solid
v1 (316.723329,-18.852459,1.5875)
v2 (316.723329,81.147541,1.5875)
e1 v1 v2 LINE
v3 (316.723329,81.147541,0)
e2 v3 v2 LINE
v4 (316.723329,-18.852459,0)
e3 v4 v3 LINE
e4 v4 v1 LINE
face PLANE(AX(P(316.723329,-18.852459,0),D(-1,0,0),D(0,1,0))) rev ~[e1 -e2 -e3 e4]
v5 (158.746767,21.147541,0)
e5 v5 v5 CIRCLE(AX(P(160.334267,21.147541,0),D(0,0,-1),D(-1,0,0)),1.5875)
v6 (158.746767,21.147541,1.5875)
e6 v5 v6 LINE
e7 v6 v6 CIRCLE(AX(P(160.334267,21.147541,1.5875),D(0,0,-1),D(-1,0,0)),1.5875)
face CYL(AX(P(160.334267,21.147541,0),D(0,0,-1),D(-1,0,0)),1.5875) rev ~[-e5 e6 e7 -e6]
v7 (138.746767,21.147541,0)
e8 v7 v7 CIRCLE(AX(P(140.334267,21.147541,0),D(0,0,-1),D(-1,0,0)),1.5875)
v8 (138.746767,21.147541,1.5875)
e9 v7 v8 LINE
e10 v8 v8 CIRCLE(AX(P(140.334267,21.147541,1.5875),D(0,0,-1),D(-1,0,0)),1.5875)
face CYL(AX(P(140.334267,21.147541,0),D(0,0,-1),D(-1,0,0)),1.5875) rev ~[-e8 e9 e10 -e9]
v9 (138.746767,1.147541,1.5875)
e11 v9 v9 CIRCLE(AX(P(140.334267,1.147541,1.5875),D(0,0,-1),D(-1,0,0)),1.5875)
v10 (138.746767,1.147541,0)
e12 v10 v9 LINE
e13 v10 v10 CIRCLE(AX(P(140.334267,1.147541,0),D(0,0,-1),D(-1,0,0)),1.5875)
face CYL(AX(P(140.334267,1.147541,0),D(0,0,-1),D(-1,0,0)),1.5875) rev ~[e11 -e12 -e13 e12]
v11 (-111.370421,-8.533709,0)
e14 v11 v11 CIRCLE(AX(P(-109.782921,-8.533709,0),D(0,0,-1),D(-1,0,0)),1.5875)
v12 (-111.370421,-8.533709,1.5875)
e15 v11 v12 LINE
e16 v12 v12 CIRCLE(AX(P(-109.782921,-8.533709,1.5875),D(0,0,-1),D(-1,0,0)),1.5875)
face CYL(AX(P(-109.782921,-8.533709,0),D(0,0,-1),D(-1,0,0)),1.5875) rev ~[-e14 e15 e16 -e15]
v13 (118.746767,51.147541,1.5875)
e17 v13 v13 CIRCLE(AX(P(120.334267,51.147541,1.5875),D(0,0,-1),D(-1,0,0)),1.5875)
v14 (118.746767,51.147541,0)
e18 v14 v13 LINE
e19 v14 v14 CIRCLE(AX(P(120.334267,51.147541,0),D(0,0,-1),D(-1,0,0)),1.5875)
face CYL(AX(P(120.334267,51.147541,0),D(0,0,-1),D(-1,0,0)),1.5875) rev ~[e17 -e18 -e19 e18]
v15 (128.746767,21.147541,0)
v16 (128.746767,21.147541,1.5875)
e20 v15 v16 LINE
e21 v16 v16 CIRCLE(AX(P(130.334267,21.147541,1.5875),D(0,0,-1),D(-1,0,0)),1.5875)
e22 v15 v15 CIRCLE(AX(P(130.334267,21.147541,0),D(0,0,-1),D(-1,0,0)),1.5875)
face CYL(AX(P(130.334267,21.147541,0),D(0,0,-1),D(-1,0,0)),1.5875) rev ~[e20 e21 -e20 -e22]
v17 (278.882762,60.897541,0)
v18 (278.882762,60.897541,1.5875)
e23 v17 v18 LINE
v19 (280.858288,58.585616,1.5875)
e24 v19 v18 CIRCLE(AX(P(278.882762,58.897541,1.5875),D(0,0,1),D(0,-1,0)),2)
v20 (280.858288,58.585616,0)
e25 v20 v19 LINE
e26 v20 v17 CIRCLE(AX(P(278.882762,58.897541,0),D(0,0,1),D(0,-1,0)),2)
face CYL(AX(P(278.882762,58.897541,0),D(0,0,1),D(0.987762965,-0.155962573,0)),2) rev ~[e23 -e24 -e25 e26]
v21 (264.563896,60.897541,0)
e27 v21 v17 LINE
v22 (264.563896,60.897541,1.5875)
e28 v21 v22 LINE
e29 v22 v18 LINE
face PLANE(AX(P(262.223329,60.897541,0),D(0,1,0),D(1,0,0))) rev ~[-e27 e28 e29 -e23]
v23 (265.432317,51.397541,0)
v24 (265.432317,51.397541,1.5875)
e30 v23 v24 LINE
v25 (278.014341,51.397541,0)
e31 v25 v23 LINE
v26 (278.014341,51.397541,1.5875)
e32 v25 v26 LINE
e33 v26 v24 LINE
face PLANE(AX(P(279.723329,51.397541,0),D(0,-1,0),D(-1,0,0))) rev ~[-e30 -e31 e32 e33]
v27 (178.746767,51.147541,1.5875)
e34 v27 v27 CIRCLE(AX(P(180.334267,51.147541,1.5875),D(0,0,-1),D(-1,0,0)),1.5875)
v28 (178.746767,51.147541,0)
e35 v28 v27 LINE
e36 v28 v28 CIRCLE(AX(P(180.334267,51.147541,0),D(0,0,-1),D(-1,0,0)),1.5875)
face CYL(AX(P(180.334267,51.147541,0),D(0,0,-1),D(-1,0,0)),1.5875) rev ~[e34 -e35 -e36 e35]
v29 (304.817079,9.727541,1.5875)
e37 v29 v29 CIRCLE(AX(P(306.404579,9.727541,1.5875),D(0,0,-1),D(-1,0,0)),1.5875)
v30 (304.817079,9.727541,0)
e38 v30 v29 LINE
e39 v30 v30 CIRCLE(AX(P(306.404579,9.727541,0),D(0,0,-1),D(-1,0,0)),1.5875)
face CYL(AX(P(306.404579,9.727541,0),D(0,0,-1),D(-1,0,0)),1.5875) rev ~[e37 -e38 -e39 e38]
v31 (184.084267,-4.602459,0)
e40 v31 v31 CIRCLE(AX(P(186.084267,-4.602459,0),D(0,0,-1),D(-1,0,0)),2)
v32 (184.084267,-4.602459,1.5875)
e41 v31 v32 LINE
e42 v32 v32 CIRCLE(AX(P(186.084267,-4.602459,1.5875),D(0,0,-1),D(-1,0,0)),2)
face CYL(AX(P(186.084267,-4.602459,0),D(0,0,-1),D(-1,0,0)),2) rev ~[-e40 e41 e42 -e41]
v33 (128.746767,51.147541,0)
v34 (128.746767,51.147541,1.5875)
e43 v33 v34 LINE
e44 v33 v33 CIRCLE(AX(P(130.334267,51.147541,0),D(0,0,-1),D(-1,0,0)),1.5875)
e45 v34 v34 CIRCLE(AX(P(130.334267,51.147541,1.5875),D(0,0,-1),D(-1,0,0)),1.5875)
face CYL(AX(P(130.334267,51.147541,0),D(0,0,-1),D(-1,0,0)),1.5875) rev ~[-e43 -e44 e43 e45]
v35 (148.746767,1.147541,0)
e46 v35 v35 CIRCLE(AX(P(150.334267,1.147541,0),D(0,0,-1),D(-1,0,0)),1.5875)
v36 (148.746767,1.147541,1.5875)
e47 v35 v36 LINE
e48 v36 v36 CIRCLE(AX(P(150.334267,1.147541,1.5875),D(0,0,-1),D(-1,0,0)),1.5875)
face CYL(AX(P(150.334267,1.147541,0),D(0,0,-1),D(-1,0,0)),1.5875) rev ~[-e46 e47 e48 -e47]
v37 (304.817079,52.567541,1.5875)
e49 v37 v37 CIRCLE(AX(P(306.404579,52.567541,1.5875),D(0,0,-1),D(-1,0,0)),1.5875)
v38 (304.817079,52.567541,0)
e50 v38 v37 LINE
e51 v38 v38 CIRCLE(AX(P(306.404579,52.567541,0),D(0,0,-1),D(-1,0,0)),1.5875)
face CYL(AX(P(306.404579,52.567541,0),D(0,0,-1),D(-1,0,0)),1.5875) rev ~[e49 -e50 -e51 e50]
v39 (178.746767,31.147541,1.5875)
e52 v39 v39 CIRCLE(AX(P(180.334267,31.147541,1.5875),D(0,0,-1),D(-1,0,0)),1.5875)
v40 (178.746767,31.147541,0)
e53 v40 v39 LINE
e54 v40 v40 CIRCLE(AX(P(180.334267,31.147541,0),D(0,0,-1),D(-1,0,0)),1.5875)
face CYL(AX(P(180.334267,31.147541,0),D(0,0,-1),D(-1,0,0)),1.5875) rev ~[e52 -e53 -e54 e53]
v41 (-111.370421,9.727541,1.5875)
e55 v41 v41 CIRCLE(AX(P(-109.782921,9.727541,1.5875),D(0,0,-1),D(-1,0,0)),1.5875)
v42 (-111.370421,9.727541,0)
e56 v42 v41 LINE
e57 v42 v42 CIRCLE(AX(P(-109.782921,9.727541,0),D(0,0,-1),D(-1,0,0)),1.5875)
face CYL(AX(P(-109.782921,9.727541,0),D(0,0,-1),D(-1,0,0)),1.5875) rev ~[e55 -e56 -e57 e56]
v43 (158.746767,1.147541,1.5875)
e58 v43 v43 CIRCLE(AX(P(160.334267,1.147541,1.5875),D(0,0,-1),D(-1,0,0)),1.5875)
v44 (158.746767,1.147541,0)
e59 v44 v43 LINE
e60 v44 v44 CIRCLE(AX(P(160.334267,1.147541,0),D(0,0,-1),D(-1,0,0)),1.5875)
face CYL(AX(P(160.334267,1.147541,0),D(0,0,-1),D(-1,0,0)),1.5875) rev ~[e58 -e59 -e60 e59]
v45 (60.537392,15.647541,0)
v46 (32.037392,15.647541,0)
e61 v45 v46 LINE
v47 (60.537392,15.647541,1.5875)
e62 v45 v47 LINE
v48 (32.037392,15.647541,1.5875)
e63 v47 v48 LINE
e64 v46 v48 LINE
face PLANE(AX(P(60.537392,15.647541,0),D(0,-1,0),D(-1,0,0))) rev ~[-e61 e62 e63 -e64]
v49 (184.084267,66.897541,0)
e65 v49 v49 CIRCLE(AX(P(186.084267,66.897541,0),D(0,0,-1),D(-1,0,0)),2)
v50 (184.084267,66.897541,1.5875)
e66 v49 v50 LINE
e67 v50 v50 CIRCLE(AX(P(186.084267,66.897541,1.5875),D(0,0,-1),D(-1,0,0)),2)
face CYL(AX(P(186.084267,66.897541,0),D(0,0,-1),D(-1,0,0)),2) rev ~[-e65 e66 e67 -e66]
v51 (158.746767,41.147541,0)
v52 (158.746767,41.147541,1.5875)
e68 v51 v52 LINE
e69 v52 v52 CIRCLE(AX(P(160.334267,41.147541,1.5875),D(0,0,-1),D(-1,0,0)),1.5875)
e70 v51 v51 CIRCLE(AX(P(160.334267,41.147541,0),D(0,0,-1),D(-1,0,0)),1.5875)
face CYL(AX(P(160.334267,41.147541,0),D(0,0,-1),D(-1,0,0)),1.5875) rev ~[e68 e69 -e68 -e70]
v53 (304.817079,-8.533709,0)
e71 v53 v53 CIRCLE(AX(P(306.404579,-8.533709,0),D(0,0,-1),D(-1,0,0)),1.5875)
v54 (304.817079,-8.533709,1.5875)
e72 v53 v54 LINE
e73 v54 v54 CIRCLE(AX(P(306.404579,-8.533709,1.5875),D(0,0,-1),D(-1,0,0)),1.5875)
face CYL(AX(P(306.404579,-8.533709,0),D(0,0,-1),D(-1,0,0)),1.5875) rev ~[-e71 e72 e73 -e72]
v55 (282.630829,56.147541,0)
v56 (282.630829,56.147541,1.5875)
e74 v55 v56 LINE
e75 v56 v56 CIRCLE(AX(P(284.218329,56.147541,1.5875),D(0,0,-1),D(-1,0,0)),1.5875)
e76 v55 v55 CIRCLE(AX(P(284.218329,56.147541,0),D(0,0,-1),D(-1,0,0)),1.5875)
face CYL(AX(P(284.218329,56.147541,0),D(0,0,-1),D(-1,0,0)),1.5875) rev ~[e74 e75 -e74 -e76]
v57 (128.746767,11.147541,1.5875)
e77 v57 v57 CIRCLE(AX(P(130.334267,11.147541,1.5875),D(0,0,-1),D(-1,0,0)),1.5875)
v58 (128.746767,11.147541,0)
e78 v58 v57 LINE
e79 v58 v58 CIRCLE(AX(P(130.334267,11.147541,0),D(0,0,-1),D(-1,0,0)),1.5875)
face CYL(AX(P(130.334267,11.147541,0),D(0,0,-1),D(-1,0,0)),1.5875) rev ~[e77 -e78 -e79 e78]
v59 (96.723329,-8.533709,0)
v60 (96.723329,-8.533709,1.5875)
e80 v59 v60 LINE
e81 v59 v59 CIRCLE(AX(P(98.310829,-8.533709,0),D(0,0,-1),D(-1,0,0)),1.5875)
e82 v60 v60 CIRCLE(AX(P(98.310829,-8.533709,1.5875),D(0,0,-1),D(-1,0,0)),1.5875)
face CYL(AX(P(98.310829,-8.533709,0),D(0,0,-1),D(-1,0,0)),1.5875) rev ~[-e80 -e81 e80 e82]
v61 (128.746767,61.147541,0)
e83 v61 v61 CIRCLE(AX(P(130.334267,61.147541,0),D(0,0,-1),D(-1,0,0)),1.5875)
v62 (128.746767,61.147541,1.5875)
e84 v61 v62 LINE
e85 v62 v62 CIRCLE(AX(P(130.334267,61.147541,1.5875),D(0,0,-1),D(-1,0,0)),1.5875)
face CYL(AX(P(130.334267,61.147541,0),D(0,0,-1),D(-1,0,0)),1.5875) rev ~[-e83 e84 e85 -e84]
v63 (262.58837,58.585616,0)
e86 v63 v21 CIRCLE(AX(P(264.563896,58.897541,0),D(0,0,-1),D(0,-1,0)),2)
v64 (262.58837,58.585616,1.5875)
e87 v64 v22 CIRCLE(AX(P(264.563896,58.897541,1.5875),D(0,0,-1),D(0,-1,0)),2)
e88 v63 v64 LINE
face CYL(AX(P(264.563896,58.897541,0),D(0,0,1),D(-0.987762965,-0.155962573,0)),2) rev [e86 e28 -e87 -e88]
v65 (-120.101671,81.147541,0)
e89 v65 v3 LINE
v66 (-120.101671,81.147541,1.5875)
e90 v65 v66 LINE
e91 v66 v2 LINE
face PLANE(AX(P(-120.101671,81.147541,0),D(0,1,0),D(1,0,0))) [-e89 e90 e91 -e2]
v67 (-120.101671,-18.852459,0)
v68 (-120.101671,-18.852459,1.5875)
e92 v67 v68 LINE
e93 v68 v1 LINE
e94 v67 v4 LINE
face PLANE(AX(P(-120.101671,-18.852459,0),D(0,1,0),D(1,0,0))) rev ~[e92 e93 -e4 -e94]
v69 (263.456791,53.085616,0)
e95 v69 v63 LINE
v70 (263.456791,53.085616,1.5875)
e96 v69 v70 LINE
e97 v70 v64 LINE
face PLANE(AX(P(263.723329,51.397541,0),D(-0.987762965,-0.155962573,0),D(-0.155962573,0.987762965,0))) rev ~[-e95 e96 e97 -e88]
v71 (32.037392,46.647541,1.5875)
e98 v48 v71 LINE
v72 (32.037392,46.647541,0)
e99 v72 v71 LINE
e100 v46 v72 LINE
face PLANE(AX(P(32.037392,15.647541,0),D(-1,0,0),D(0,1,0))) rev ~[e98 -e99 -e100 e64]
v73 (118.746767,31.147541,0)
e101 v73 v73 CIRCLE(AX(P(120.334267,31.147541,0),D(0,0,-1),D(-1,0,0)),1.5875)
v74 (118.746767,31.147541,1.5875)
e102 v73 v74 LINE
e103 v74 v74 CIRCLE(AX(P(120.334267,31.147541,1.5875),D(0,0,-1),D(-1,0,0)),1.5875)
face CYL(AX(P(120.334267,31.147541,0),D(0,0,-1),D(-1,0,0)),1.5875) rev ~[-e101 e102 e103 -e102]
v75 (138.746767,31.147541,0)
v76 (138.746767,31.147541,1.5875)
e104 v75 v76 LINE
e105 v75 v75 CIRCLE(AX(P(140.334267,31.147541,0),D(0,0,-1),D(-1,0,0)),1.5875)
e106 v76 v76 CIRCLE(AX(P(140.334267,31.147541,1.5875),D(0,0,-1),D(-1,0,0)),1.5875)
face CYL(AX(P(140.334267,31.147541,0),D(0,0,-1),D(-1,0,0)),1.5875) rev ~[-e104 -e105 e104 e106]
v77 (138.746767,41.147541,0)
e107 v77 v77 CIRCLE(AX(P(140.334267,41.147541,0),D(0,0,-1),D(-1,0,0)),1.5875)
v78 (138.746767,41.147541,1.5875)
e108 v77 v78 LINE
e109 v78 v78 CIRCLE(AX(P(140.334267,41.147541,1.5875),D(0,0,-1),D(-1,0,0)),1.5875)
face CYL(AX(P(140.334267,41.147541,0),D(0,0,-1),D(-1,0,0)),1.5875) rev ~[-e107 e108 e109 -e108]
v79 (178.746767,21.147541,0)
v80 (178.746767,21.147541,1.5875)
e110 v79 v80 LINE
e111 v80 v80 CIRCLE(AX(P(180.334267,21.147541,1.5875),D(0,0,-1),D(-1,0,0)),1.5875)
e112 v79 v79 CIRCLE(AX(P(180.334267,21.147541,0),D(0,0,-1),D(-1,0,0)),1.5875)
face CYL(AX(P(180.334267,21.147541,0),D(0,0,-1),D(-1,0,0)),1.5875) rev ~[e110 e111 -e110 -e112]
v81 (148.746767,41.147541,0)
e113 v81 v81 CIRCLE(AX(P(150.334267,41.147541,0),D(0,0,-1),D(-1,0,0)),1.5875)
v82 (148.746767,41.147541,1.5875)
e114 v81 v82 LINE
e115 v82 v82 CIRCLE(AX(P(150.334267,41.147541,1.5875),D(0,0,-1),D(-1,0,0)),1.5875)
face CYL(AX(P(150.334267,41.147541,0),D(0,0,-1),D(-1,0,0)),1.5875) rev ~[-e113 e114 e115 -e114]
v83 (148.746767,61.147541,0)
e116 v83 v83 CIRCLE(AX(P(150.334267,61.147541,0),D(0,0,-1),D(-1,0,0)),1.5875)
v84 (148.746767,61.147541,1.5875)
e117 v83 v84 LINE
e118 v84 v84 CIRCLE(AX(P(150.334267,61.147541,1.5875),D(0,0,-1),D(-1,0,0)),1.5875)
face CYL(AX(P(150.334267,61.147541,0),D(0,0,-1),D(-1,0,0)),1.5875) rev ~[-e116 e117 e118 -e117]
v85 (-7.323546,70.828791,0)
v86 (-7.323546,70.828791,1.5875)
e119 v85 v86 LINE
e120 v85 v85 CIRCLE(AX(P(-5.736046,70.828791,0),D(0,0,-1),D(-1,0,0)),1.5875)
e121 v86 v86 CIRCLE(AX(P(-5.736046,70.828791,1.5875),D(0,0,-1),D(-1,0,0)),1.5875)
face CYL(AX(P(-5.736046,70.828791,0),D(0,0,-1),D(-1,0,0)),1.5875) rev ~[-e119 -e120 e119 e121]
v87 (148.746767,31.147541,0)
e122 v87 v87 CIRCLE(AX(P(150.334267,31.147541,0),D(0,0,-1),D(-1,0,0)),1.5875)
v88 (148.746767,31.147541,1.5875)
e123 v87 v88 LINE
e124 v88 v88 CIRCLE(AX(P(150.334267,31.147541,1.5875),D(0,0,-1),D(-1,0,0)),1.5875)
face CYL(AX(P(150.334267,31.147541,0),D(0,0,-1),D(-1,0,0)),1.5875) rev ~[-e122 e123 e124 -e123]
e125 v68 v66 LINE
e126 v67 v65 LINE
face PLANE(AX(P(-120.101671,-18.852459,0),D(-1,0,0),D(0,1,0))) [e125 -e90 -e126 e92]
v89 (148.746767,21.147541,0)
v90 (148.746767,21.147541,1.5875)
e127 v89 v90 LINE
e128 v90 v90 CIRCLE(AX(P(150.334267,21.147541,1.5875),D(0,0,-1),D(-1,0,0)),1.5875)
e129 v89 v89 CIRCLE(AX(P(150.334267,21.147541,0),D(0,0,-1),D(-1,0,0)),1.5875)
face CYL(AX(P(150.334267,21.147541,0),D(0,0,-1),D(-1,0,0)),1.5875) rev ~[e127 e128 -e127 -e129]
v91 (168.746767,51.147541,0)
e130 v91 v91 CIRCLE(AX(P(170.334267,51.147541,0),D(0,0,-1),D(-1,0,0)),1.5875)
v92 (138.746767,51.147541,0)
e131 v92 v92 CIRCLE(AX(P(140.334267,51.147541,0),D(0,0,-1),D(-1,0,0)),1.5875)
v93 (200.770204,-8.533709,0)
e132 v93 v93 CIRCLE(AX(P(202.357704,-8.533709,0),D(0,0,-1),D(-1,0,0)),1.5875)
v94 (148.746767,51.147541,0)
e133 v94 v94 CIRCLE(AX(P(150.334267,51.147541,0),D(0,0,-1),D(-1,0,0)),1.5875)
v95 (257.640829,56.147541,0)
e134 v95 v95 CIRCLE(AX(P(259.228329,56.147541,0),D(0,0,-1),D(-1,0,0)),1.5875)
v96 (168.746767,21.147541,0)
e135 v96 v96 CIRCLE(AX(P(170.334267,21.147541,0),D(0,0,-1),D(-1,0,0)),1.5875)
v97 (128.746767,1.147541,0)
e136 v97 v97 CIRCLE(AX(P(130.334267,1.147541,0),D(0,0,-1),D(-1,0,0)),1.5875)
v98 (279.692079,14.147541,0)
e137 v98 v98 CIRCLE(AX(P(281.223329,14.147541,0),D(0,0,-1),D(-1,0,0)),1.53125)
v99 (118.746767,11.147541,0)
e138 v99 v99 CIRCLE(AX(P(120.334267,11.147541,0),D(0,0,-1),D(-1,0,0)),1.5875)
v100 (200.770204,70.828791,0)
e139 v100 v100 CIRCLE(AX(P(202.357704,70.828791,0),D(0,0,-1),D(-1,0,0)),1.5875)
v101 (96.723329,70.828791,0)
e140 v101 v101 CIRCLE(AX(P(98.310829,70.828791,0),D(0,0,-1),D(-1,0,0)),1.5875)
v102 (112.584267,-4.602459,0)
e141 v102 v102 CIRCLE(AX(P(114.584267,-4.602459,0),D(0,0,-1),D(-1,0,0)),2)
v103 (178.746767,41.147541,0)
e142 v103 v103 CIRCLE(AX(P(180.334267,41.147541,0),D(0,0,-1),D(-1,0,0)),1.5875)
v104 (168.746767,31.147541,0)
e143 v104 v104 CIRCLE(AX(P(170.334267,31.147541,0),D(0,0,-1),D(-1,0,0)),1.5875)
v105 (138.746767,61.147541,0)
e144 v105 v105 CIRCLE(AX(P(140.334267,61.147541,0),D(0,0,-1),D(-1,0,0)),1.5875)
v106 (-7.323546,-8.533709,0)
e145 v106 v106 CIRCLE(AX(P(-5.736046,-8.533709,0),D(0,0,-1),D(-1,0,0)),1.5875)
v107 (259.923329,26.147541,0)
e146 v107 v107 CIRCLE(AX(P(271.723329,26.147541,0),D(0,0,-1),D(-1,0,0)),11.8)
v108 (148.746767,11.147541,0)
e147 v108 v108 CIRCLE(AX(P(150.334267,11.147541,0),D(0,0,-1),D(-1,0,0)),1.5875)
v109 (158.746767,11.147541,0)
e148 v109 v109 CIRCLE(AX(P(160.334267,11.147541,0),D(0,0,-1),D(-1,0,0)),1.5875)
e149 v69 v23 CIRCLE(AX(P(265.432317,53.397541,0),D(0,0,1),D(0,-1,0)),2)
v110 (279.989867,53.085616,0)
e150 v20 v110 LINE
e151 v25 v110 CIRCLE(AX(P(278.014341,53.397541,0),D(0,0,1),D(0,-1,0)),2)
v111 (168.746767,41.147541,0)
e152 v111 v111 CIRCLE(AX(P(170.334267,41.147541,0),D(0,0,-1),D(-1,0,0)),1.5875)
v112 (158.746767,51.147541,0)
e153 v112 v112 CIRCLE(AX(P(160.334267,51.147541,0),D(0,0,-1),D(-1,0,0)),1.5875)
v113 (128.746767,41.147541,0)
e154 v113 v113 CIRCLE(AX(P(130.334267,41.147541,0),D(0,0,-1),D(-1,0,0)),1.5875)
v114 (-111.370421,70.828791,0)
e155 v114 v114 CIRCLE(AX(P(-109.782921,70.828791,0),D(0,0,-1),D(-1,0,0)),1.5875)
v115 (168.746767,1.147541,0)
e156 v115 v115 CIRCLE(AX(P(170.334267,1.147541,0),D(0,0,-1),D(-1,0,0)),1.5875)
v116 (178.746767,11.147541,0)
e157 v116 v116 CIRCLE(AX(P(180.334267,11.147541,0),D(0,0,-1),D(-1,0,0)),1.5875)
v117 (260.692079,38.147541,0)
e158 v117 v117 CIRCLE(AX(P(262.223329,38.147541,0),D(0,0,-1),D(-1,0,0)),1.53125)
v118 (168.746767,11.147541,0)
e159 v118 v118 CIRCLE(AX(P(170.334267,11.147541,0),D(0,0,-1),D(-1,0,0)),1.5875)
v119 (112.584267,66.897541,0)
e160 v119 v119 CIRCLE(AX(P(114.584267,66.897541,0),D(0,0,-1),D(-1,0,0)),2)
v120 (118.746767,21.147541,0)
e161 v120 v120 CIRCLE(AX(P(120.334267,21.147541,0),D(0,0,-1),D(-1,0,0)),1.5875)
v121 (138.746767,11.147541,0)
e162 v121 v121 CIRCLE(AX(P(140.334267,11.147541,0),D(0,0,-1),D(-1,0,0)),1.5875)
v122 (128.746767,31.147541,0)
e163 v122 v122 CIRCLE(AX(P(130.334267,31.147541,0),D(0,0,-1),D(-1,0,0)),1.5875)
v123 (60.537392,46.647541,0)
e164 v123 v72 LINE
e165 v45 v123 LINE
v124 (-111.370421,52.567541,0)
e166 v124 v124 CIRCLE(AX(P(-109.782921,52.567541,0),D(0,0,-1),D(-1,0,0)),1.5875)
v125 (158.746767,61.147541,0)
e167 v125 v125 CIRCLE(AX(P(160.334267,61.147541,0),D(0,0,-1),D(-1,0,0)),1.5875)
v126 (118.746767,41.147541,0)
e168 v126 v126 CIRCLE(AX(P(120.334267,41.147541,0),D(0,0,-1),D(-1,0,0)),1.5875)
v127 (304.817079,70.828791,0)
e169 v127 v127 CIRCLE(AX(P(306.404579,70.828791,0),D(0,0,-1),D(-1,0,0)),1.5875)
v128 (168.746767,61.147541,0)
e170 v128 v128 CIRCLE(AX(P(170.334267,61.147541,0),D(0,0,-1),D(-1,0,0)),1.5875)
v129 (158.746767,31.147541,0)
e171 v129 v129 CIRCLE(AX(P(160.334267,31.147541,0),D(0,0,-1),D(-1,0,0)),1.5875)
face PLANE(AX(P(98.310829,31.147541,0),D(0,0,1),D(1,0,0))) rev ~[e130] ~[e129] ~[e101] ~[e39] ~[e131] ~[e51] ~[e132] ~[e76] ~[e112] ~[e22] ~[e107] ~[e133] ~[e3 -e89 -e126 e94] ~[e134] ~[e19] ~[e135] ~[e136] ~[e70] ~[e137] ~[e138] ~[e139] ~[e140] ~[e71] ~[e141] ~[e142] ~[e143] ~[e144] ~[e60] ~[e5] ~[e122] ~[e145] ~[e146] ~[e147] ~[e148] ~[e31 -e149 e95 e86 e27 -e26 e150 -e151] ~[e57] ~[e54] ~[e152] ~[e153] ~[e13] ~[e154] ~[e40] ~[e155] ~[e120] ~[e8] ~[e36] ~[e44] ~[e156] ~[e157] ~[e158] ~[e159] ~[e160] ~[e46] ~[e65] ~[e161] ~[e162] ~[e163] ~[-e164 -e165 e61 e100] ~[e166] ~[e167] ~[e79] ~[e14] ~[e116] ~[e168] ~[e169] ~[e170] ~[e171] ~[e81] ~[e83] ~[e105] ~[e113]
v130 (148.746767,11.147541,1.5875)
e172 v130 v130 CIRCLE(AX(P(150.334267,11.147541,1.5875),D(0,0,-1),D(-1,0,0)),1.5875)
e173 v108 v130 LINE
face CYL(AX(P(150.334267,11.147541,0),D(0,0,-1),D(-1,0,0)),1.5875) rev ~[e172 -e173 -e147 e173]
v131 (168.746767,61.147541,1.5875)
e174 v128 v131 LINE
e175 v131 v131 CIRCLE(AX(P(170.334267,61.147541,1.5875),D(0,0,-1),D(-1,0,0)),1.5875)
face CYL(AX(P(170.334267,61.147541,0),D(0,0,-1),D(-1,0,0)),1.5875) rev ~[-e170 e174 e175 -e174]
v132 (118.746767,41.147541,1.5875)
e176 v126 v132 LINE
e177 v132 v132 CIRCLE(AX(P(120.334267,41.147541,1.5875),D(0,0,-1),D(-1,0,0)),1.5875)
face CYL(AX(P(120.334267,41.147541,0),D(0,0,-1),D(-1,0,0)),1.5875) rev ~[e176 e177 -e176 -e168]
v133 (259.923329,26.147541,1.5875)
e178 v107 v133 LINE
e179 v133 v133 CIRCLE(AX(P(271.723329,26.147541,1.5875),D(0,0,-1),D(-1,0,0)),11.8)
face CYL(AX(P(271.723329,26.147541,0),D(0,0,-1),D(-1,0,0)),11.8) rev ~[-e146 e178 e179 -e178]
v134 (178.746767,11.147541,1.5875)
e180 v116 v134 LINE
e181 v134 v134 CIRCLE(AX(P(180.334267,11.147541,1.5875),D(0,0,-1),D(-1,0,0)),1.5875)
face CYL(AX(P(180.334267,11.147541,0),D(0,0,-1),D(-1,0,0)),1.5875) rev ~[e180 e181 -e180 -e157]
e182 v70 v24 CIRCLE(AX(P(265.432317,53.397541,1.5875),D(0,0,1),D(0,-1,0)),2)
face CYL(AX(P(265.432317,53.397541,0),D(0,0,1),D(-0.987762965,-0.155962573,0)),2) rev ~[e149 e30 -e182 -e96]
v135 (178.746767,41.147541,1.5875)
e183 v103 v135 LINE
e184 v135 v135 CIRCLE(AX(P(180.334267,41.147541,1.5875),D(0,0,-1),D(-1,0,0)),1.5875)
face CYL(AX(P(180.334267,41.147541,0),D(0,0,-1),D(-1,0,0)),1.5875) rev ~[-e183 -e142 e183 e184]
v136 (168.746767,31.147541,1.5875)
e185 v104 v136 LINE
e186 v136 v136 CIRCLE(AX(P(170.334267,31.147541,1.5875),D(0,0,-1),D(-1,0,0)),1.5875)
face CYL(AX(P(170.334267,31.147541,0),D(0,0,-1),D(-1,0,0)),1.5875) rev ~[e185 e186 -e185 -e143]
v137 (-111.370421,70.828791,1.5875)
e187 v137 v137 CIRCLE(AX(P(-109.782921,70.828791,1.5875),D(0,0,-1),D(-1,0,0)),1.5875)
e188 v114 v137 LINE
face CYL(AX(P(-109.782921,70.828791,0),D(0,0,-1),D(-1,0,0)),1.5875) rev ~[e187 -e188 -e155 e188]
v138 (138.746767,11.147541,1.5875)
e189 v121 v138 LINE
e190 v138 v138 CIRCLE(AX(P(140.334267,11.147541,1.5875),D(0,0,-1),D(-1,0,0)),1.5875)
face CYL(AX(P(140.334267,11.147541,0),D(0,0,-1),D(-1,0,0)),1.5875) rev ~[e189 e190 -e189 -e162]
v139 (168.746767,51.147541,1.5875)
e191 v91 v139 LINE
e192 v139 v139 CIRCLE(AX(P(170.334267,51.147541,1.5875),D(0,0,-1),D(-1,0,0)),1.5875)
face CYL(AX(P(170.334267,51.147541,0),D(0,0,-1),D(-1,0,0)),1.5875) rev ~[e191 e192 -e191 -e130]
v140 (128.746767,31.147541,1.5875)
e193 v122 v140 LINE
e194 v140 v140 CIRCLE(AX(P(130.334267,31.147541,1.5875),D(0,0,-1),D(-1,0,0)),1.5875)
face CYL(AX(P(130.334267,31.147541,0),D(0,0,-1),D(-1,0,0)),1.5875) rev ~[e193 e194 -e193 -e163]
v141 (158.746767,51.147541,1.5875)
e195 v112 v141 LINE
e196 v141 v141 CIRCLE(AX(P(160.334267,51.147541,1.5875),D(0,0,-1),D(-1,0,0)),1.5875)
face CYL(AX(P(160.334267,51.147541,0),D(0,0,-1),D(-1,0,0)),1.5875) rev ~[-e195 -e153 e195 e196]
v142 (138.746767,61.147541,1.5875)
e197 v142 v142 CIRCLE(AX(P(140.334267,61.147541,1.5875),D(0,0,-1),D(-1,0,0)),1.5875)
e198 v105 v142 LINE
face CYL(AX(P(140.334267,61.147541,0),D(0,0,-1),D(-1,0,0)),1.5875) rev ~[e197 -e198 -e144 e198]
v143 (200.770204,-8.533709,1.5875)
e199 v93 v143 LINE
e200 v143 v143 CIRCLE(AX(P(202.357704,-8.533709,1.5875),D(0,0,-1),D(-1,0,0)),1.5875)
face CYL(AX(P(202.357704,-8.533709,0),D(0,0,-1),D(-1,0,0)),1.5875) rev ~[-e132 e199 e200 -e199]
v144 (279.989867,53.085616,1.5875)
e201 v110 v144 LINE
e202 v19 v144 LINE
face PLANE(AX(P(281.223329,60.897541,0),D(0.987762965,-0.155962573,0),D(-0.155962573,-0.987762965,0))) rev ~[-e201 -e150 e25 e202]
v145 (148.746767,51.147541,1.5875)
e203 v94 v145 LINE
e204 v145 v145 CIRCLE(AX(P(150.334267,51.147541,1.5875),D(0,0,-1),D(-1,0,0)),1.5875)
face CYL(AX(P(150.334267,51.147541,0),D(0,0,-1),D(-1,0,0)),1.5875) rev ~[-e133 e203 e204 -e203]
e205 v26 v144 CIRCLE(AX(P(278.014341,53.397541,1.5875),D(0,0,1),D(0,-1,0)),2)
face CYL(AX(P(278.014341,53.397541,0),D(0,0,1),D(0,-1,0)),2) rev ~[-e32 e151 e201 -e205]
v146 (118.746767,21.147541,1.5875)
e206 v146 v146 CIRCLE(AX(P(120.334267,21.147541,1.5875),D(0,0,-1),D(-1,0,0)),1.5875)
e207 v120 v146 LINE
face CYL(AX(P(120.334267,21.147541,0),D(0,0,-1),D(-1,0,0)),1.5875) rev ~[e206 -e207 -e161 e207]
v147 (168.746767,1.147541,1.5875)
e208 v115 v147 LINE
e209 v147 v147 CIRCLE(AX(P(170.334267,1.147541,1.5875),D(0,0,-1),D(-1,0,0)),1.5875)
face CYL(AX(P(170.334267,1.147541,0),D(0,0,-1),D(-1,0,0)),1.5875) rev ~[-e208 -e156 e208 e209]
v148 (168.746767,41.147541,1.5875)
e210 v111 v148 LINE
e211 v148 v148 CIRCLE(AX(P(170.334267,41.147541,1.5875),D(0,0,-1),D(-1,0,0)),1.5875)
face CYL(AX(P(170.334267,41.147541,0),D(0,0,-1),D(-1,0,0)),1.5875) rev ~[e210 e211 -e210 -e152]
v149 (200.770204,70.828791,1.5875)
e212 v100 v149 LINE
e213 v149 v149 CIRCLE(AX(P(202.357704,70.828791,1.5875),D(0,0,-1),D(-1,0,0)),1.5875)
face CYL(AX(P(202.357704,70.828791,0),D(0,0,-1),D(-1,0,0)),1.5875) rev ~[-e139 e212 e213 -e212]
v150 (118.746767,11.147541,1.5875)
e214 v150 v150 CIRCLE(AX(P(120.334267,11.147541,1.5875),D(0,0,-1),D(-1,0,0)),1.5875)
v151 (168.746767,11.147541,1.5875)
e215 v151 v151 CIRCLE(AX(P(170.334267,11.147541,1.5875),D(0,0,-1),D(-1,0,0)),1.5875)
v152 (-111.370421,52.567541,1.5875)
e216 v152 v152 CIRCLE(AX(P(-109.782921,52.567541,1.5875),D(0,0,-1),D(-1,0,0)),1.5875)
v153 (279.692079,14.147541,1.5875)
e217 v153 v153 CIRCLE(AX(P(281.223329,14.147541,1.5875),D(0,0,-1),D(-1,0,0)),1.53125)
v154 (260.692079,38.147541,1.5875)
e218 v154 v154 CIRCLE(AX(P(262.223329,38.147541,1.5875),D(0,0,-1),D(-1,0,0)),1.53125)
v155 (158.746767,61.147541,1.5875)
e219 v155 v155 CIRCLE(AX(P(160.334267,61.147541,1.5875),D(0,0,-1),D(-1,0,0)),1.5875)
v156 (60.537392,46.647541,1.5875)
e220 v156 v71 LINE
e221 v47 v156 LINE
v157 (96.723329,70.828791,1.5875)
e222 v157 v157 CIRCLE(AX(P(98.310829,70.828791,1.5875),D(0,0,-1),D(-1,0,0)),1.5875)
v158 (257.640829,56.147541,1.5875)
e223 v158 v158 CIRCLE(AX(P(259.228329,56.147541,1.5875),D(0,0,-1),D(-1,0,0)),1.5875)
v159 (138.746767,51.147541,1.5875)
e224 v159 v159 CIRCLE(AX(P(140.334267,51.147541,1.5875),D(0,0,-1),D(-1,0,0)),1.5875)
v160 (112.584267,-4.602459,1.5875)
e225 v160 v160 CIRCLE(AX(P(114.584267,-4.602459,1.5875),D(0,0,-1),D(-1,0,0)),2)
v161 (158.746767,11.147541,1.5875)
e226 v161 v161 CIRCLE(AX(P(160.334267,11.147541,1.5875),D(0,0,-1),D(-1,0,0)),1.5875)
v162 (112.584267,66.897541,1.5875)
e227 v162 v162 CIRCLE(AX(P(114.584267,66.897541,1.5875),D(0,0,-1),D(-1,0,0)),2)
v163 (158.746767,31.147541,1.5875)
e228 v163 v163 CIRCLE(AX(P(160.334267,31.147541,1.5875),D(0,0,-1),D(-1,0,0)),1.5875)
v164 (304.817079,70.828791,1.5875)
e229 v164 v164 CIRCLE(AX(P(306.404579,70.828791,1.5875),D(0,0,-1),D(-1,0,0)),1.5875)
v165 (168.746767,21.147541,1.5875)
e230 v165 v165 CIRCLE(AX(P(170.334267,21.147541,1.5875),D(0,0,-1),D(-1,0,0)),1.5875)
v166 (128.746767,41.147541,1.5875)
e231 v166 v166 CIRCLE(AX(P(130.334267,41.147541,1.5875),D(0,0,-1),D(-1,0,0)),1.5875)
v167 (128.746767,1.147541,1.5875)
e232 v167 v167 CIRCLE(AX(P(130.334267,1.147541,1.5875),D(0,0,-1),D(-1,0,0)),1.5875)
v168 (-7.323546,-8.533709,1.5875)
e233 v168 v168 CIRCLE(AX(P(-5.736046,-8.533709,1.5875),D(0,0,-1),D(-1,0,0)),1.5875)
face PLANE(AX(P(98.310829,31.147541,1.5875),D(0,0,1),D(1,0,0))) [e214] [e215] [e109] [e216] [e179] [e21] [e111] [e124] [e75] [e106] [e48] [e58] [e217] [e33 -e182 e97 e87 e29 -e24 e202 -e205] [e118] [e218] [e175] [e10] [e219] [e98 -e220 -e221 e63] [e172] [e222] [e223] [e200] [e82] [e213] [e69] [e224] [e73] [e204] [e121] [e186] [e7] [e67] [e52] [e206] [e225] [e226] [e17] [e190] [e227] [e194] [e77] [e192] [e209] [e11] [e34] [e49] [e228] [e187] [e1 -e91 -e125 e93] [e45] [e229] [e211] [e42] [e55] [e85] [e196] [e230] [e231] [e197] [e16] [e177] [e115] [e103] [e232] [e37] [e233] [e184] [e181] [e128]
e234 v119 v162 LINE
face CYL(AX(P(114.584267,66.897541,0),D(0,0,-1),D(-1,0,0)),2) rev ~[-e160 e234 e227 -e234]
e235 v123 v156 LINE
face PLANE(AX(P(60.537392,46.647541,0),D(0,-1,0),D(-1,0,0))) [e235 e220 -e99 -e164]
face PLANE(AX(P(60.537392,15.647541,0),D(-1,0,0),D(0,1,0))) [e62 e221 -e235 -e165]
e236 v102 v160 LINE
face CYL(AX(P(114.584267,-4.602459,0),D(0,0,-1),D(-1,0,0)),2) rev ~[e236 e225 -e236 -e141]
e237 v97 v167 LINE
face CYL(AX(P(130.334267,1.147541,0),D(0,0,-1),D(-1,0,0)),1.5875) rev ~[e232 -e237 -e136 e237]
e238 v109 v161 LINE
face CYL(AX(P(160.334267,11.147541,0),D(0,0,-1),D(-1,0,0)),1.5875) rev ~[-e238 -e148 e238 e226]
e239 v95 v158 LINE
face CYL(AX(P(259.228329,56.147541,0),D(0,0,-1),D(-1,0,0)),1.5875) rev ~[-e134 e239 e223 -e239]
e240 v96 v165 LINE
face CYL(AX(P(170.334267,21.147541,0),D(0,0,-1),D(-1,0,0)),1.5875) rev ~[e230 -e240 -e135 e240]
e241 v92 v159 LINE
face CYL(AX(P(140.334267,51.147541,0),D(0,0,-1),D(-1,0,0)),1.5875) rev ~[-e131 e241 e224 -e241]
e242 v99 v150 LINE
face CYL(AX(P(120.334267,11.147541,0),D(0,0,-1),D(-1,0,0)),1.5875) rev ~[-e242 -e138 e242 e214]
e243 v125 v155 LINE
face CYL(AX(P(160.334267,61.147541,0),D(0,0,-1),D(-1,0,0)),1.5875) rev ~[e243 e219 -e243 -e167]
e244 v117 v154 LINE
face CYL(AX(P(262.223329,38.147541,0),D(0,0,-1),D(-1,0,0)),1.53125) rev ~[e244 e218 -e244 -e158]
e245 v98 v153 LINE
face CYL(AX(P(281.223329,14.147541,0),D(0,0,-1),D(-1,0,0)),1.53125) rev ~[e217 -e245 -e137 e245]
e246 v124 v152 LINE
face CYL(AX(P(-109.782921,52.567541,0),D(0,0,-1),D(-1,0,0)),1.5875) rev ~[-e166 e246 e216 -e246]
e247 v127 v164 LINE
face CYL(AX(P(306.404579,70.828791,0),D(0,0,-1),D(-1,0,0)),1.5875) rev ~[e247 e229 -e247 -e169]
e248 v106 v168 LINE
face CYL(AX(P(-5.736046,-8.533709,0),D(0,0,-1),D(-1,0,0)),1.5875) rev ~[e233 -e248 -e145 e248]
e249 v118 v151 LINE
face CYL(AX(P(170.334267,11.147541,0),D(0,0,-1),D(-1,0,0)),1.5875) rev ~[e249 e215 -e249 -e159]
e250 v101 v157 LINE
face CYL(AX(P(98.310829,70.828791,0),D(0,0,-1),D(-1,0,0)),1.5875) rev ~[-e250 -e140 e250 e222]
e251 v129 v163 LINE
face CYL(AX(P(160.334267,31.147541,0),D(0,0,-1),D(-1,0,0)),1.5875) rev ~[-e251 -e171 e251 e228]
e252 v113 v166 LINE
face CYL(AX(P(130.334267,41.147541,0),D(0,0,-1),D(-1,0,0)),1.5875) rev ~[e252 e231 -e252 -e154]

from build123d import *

# Parameters (mm, degrees)
ESQUISSE1_W             = 436.825
ESQUISSE1_H             = 100
BOSS_EXTRU_1_DEPTH      = 1.5875
ENL_V_MAT_EXTRU_1_REACH = 3.587
ESQUISSE2_R             = 1.5875
ENL_V_MAT_EXTRU_2_REACH = 3.587
ESQUISSE3_W             = 28.5
ESQUISSE3_H             = 31
ESQUISSE4_R             = 2
ESQUISSE4_R_2           = 1.5875
ENL_V_MAT_EXTRU_3_DEPTH = 1.5875
ENL_V_MAT_EXTRU_4_REACH = 3.587
ESQUISSE5_R             = 11.8
ESQUISSE5_R_2           = 1.53125
ESQUISSE5_R_3           = 1.5875
CONG_1_R                = 2


with BuildPart() as part:
    # Esquisse1 → Boss.-Extru.1 (new body)
    with BuildSketch(Plane.XY):
        with Locations((98.31082913, 31.147540984)):
            Rectangle(ESQUISSE1_W, ESQUISSE1_H)
    extrude(amount=BOSS_EXTRU_1_DEPTH)

    # Esquisse2 → Enlèv. mat.-Extru.1 (cut, up to next)
    with BuildSketch(Plane(origin=(0, 0, 0), x_dir=(-1, 0, 0), z_dir=(0, 0, -1)), mode=Mode.PRIVATE) as enl_v_mat_extru_1_sk1:
        with Locations((-306.40457913, 9.727540984)):
            Circle(ESQUISSE2_R)
    enl_v_mat_extru_1_tool1 = extrude(enl_v_mat_extru_1_sk1.sketch, amount=-ENL_V_MAT_EXTRU_1_REACH, mode=Mode.PRIVATE) & part.part
    add(enl_v_mat_extru_1_tool1.solids().sort_by_distance((306.404579, 9.727541, 0))[0], mode=Mode.SUBTRACT)
    # Esquisse2 → Enlèv. mat.-Extru.1 (cut, up to next)
    with BuildSketch(Plane(origin=(0, 0, 0), x_dir=(-1, 0, 0), z_dir=(0, 0, -1)), mode=Mode.PRIVATE) as enl_v_mat_extru_1_sk2:
        with Locations((-306.40457913, -8.533709016)):
            Circle(ESQUISSE2_R)
    enl_v_mat_extru_1_tool2 = extrude(enl_v_mat_extru_1_sk2.sketch, amount=-ENL_V_MAT_EXTRU_1_REACH, mode=Mode.PRIVATE) & part.part
    add(enl_v_mat_extru_1_tool2.solids().sort_by_distance((306.404579, -8.533709, 0))[0], mode=Mode.SUBTRACT)
    # Esquisse2 → Enlèv. mat.-Extru.1 (cut, up to next)
    with BuildSketch(Plane(origin=(0, 0, 0), x_dir=(-1, 0, 0), z_dir=(0, 0, -1)), mode=Mode.PRIVATE) as enl_v_mat_extru_1_sk3:
        with Locations((-98.31082913, -8.533709016)):
            Circle(ESQUISSE2_R)
    enl_v_mat_extru_1_tool3 = extrude(enl_v_mat_extru_1_sk3.sketch, amount=-ENL_V_MAT_EXTRU_1_REACH, mode=Mode.PRIVATE) & part.part
    add(enl_v_mat_extru_1_tool3.solids().sort_by_distance((98.310829, -8.533709, 0))[0], mode=Mode.SUBTRACT)
    # Esquisse2 → Enlèv. mat.-Extru.1 (cut, up to next)
    with BuildSketch(Plane(origin=(0, 0, 0), x_dir=(-1, 0, 0), z_dir=(0, 0, -1)), mode=Mode.PRIVATE) as enl_v_mat_extru_1_sk4:
        with Locations((-202.35770413, -8.533709016)):
            Circle(ESQUISSE2_R)
    enl_v_mat_extru_1_tool4 = extrude(enl_v_mat_extru_1_sk4.sketch, amount=-ENL_V_MAT_EXTRU_1_REACH, mode=Mode.PRIVATE) & part.part
    add(enl_v_mat_extru_1_tool4.solids().sort_by_distance((202.357704, -8.533709, 0))[0], mode=Mode.SUBTRACT)
    # Esquisse2 → Enlèv. mat.-Extru.1 (cut, up to next)
    with BuildSketch(Plane(origin=(0, 0, 0), x_dir=(-1, 0, 0), z_dir=(0, 0, -1)), mode=Mode.PRIVATE) as enl_v_mat_extru_1_sk5:
        with Locations((5.73604587, -8.533709016)):
            Circle(ESQUISSE2_R)
    enl_v_mat_extru_1_tool5 = extrude(enl_v_mat_extru_1_sk5.sketch, amount=-ENL_V_MAT_EXTRU_1_REACH, mode=Mode.PRIVATE) & part.part
    add(enl_v_mat_extru_1_tool5.solids().sort_by_distance((-5.736046, -8.533709, 0))[0], mode=Mode.SUBTRACT)
    # Esquisse2 → Enlèv. mat.-Extru.1 (cut, up to next)
    with BuildSketch(Plane(origin=(0, 0, 0), x_dir=(-1, 0, 0), z_dir=(0, 0, -1)), mode=Mode.PRIVATE) as enl_v_mat_extru_1_sk6:
        with Locations((109.78292087, -8.533709016)):
            Circle(ESQUISSE2_R)
    enl_v_mat_extru_1_tool6 = extrude(enl_v_mat_extru_1_sk6.sketch, amount=-ENL_V_MAT_EXTRU_1_REACH, mode=Mode.PRIVATE) & part.part
    add(enl_v_mat_extru_1_tool6.solids().sort_by_distance((-109.782921, -8.533709, 0))[0], mode=Mode.SUBTRACT)
    # Esquisse2 → Enlèv. mat.-Extru.1 (cut, up to next)
    with BuildSketch(Plane(origin=(0, 0, 0), x_dir=(-1, 0, 0), z_dir=(0, 0, -1)), mode=Mode.PRIVATE) as enl_v_mat_extru_1_sk7:
        with Locations((109.78292087, 9.727540984)):
            Circle(ESQUISSE2_R)
    enl_v_mat_extru_1_tool7 = extrude(enl_v_mat_extru_1_sk7.sketch, amount=-ENL_V_MAT_EXTRU_1_REACH, mode=Mode.PRIVATE) & part.part
    add(enl_v_mat_extru_1_tool7.solids().sort_by_distance((-109.782921, 9.727541, 0))[0], mode=Mode.SUBTRACT)
    # Esquisse2 → Enlèv. mat.-Extru.1 (cut, up to next)
    with BuildSketch(Plane(origin=(0, 0, 0), x_dir=(-1, 0, 0), z_dir=(0, 0, -1)), mode=Mode.PRIVATE) as enl_v_mat_extru_1_sk8:
        with Locations((109.78292087, 52.567540984)):
            Circle(ESQUISSE2_R)
    enl_v_mat_extru_1_tool8 = extrude(enl_v_mat_extru_1_sk8.sketch, amount=-ENL_V_MAT_EXTRU_1_REACH, mode=Mode.PRIVATE) & part.part
    add(enl_v_mat_extru_1_tool8.solids().sort_by_distance((-109.782921, 52.567541, 0))[0], mode=Mode.SUBTRACT)
    # Esquisse2 → Enlèv. mat.-Extru.1 (cut, up to next)
    with BuildSketch(Plane(origin=(0, 0, 0), x_dir=(-1, 0, 0), z_dir=(0, 0, -1)), mode=Mode.PRIVATE) as enl_v_mat_extru_1_sk9:
        with Locations((109.78292087, 70.828790984)):
            Circle(ESQUISSE2_R)
    enl_v_mat_extru_1_tool9 = extrude(enl_v_mat_extru_1_sk9.sketch, amount=-ENL_V_MAT_EXTRU_1_REACH, mode=Mode.PRIVATE) & part.part
    add(enl_v_mat_extru_1_tool9.solids().sort_by_distance((-109.782921, 70.828791, 0))[0], mode=Mode.SUBTRACT)
    # Esquisse2 → Enlèv. mat.-Extru.1 (cut, up to next)
    with BuildSketch(Plane(origin=(0, 0, 0), x_dir=(-1, 0, 0), z_dir=(0, 0, -1)), mode=Mode.PRIVATE) as enl_v_mat_extru_1_sk10:
        with Locations((5.73604587, 70.828790984)):
            Circle(ESQUISSE2_R)
    enl_v_mat_extru_1_tool10 = extrude(enl_v_mat_extru_1_sk10.sketch, amount=-ENL_V_MAT_EXTRU_1_REACH, mode=Mode.PRIVATE) & part.part
    add(enl_v_mat_extru_1_tool10.solids().sort_by_distance((-5.736046, 70.828791, 0))[0], mode=Mode.SUBTRACT)
    # Esquisse2 → Enlèv. mat.-Extru.1 (cut, up to next)
    with BuildSketch(Plane(origin=(0, 0, 0), x_dir=(-1, 0, 0), z_dir=(0, 0, -1)), mode=Mode.PRIVATE) as enl_v_mat_extru_1_sk11:
        with Locations((-98.31082913, 70.828790984)):
            Circle(ESQUISSE2_R)
    enl_v_mat_extru_1_tool11 = extrude(enl_v_mat_extru_1_sk11.sketch, amount=-ENL_V_MAT_EXTRU_1_REACH, mode=Mode.PRIVATE) & part.part
    add(enl_v_mat_extru_1_tool11.solids().sort_by_distance((98.310829, 70.828791, 0))[0], mode=Mode.SUBTRACT)
    # Esquisse2 → Enlèv. mat.-Extru.1 (cut, up to next)
    with BuildSketch(Plane(origin=(0, 0, 0), x_dir=(-1, 0, 0), z_dir=(0, 0, -1)), mode=Mode.PRIVATE) as enl_v_mat_extru_1_sk12:
        with Locations((-202.35770413, 70.828790984)):
            Circle(ESQUISSE2_R)
    enl_v_mat_extru_1_tool12 = extrude(enl_v_mat_extru_1_sk12.sketch, amount=-ENL_V_MAT_EXTRU_1_REACH, mode=Mode.PRIVATE) & part.part
    add(enl_v_mat_extru_1_tool12.solids().sort_by_distance((202.357704, 70.828791, 0))[0], mode=Mode.SUBTRACT)
    # Esquisse2 → Enlèv. mat.-Extru.1 (cut, up to next)
    with BuildSketch(Plane(origin=(0, 0, 0), x_dir=(-1, 0, 0), z_dir=(0, 0, -1)), mode=Mode.PRIVATE) as enl_v_mat_extru_1_sk13:
        with Locations((-306.40457913, 70.828790984)):
            Circle(ESQUISSE2_R)
    enl_v_mat_extru_1_tool13 = extrude(enl_v_mat_extru_1_sk13.sketch, amount=-ENL_V_MAT_EXTRU_1_REACH, mode=Mode.PRIVATE) & part.part
    add(enl_v_mat_extru_1_tool13.solids().sort_by_distance((306.404579, 70.828791, 0))[0], mode=Mode.SUBTRACT)
    # Esquisse2 → Enlèv. mat.-Extru.1 (cut, up to next)
    with BuildSketch(Plane(origin=(0, 0, 0), x_dir=(-1, 0, 0), z_dir=(0, 0, -1)), mode=Mode.PRIVATE) as enl_v_mat_extru_1_sk14:
        with Locations((-306.40457913, 52.567540984)):
            Circle(ESQUISSE2_R)
    enl_v_mat_extru_1_tool14 = extrude(enl_v_mat_extru_1_sk14.sketch, amount=-ENL_V_MAT_EXTRU_1_REACH, mode=Mode.PRIVATE) & part.part
    add(enl_v_mat_extru_1_tool14.solids().sort_by_distance((306.404579, 52.567541, 0))[0], mode=Mode.SUBTRACT)

    # Esquisse3 → Enlèv. mat.-Extru.2 (cut, up to next)
    with BuildSketch(Plane(origin=(0, 0, 0), x_dir=(-1, 0, 0), z_dir=(0, 0, -1)), mode=Mode.PRIVATE) as enl_v_mat_extru_2_sk1:
        with Locations((-46.28739163, 31.147540984)):
            Rectangle(ESQUISSE3_W, ESQUISSE3_H)
    enl_v_mat_extru_2_tool1 = extrude(enl_v_mat_extru_2_sk1.sketch, amount=-ENL_V_MAT_EXTRU_2_REACH, mode=Mode.PRIVATE) & part.part
    add(enl_v_mat_extru_2_tool1.solids().sort_by_distance((46.287392, 31.147541, 0))[0], mode=Mode.SUBTRACT)

    # Esquisse4 → Enlèv. mat.-Extru.3 (cut)
    with BuildSketch(Plane(origin=(0, 0, 0), x_dir=(-1, 0, 0), z_dir=(0, 0, -1))):
        with Locations((-186.08426663, 66.897540984)):
            Circle(ESQUISSE4_R)
        with Locations((-114.58426663, 66.897540984)):
            Circle(ESQUISSE4_R)
        with Locations((-114.58426663, -4.602459016)):
            Circle(ESQUISSE4_R)
        with Locations((-186.08426663, -4.602459016)):
            Circle(ESQUISSE4_R)
        with Locations((-150.33426663, 31.147540984)):
            Circle(ESQUISSE4_R_2)
        with Locations((-140.33426663, 31.147540984)):
            Circle(ESQUISSE4_R_2)
        with Locations((-130.33426663, 31.147540984)):
            Circle(ESQUISSE4_R_2)
        with Locations((-120.33426663, 31.147540984)):
            Circle(ESQUISSE4_R_2)
        with Locations((-140.33426663, 41.147540984)):
            Circle(ESQUISSE4_R_2)
        with Locations((-130.33426663, 41.147540984)):
            Circle(ESQUISSE4_R_2)
        with Locations((-120.33426663, 41.147540984)):
            Circle(ESQUISSE4_R_2)
        with Locations((-140.33426663, 51.147540984)):
            Circle(ESQUISSE4_R_2)
        with Locations((-130.33426663, 51.147540984)):
            Circle(ESQUISSE4_R_2)
        with Locations((-120.33426663, 51.147540984)):
            Circle(ESQUISSE4_R_2)
        with Locations((-140.33426663, 61.147540984)):
            Circle(ESQUISSE4_R_2)
        with Locations((-130.33426663, 61.147540984)):
            Circle(ESQUISSE4_R_2)
        with Locations((-160.33426663, 31.147540984)):
            Circle(ESQUISSE4_R_2)
        with Locations((-170.33426663, 31.147540984)):
            Circle(ESQUISSE4_R_2)
        with Locations((-180.33426663, 31.147540984)):
            Circle(ESQUISSE4_R_2)
        with Locations((-160.33426663, 41.147540984)):
            Circle(ESQUISSE4_R_2)
        with Locations((-170.33426663, 41.147540984)):
            Circle(ESQUISSE4_R_2)
        with Locations((-180.33426663, 41.147540984)):
            Circle(ESQUISSE4_R_2)
        with Locations((-160.33426663, 51.147540984)):
            Circle(ESQUISSE4_R_2)
        with Locations((-170.33426663, 51.147540984)):
            Circle(ESQUISSE4_R_2)
        with Locations((-180.33426663, 51.147540984)):
            Circle(ESQUISSE4_R_2)
        with Locations((-160.33426663, 61.147540984)):
            Circle(ESQUISSE4_R_2)
        with Locations((-170.33426663, 61.147540984)):
            Circle(ESQUISSE4_R_2)
        with Locations((-150.33426663, 41.147540984)):
            Circle(ESQUISSE4_R_2)
        with Locations((-150.33426663, 51.147540984)):
            Circle(ESQUISSE4_R_2)
        with Locations((-150.33426663, 61.147540984)):
            Circle(ESQUISSE4_R_2)
        with Locations((-150.33426663, 21.147540984)):
            Circle(ESQUISSE4_R_2)
        with Locations((-140.33426663, 21.147540984)):
            Circle(ESQUISSE4_R_2)
        with Locations((-130.33426663, 21.147540984)):
            Circle(ESQUISSE4_R_2)
        with Locations((-120.33426663, 21.147540984)):
            Circle(ESQUISSE4_R_2)
        with Locations((-140.33426663, 11.147540984)):
            Circle(ESQUISSE4_R_2)
        with Locations((-130.33426663, 11.147540984)):
            Circle(ESQUISSE4_R_2)
        with Locations((-120.33426663, 11.147540984)):
            Circle(ESQUISSE4_R_2)
        with Locations((-140.33426663, 1.147540984)):
            Circle(ESQUISSE4_R_2)
        with Locations((-130.33426663, 1.147540984)):
            Circle(ESQUISSE4_R_2)
        with Locations((-160.33426663, 21.147540984)):
            Circle(ESQUISSE4_R_2)
        with Locations((-170.33426663, 21.147540984)):
            Circle(ESQUISSE4_R_2)
        with Locations((-180.33426663, 21.147540984)):
            Circle(ESQUISSE4_R_2)
        with Locations((-160.33426663, 11.147540984)):
            Circle(ESQUISSE4_R_2)
        with Locations((-170.33426663, 11.147540984)):
            Circle(ESQUISSE4_R_2)
        with Locations((-180.33426663, 11.147540984)):
            Circle(ESQUISSE4_R_2)
        with Locations((-160.33426663, 1.147540984)):
            Circle(ESQUISSE4_R_2)
        with Locations((-170.33426663, 1.147540984)):
            Circle(ESQUISSE4_R_2)
        with Locations((-150.33426663, 11.147540984)):
            Circle(ESQUISSE4_R_2)
        with Locations((-150.33426663, 1.147540984)):
            Circle(ESQUISSE4_R_2)
    extrude(amount=-ENL_V_MAT_EXTRU_3_DEPTH, mode=Mode.SUBTRACT)

    # Esquisse5 → Enlèv. mat.-Extru.4 (cut, up to next)
    with BuildSketch(Plane(origin=(0, 0, 0), x_dir=(-1, 0, 0), z_dir=(0, 0, -1)), mode=Mode.PRIVATE) as enl_v_mat_extru_4_sk1:
        with Locations((-271.72332913, 26.147540984)):
            Circle(ESQUISSE5_R)
    enl_v_mat_extru_4_tool1 = extrude(enl_v_mat_extru_4_sk1.sketch, amount=-ENL_V_MAT_EXTRU_4_REACH, mode=Mode.PRIVATE) & part.part
    add(enl_v_mat_extru_4_tool1.solids().sort_by_distance((271.723329, 26.147541, 0))[0], mode=Mode.SUBTRACT)
    # Esquisse5 → Enlèv. mat.-Extru.4 (cut, up to next)
    with BuildSketch(Plane(origin=(0, 0, 0), x_dir=(-1, 0, 0), z_dir=(0, 0, -1)), mode=Mode.PRIVATE) as enl_v_mat_extru_4_sk2:
        with Locations((-262.22332913, 38.147540984)):
            Circle(ESQUISSE5_R_2)
    enl_v_mat_extru_4_tool2 = extrude(enl_v_mat_extru_4_sk2.sketch, amount=-ENL_V_MAT_EXTRU_4_REACH, mode=Mode.PRIVATE) & part.part
    add(enl_v_mat_extru_4_tool2.solids().sort_by_distance((262.223329, 38.147541, 0))[0], mode=Mode.SUBTRACT)
    # Esquisse5 → Enlèv. mat.-Extru.4 (cut, up to next)
    with BuildSketch(Plane(origin=(0, 0, 0), x_dir=(-1, 0, 0), z_dir=(0, 0, -1)), mode=Mode.PRIVATE) as enl_v_mat_extru_4_sk3:
        with Locations((-281.22332913, 14.147540984)):
            Circle(ESQUISSE5_R_2)
    enl_v_mat_extru_4_tool3 = extrude(enl_v_mat_extru_4_sk3.sketch, amount=-ENL_V_MAT_EXTRU_4_REACH, mode=Mode.PRIVATE) & part.part
    add(enl_v_mat_extru_4_tool3.solids().sort_by_distance((281.223329, 14.147541, 0))[0], mode=Mode.SUBTRACT)
    # Esquisse5 → Enlèv. mat.-Extru.4 (cut, up to next)
    with BuildSketch(Plane(origin=(0, 0, 0), x_dir=(-1, 0, 0), z_dir=(0, 0, -1)), mode=Mode.PRIVATE) as enl_v_mat_extru_4_sk4:
        with Locations((-259.22832913, 56.147540984)):
            Circle(ESQUISSE5_R_3)
    enl_v_mat_extru_4_tool4 = extrude(enl_v_mat_extru_4_sk4.sketch, amount=-ENL_V_MAT_EXTRU_4_REACH, mode=Mode.PRIVATE) & part.part
    add(enl_v_mat_extru_4_tool4.solids().sort_by_distance((259.228329, 56.147541, 0))[0], mode=Mode.SUBTRACT)
    # Esquisse5 → Enlèv. mat.-Extru.4 (cut, up to next)
    with BuildSketch(Plane(origin=(0, 0, 0), x_dir=(-1, 0, 0), z_dir=(0, 0, -1)), mode=Mode.PRIVATE) as enl_v_mat_extru_4_sk5:
        with Locations((-284.21832913, 56.147540984)):
            Circle(ESQUISSE5_R_3)
    enl_v_mat_extru_4_tool5 = extrude(enl_v_mat_extru_4_sk5.sketch, amount=-ENL_V_MAT_EXTRU_4_REACH, mode=Mode.PRIVATE) & part.part
    add(enl_v_mat_extru_4_tool5.solids().sort_by_distance((284.218329, 56.147541, 0))[0], mode=Mode.SUBTRACT)
    # Esquisse5 → Enlèv. mat.-Extru.4 (cut, up to next)
    with BuildSketch(Plane(origin=(0, 0, 0), x_dir=(-1, 0, 0), z_dir=(0, 0, -1)), mode=Mode.PRIVATE) as enl_v_mat_extru_4_sk6:
        Polygon((-262.22332913, 60.897540984), (-281.22332913, 60.897540984), (-279.72332913, 51.397540984), (-263.72332913, 51.397540984), align=None)
    enl_v_mat_extru_4_tool6 = extrude(enl_v_mat_extru_4_sk6.sketch, amount=-ENL_V_MAT_EXTRU_4_REACH, mode=Mode.PRIVATE) & part.part
    add(enl_v_mat_extru_4_tool6.solids().sort_by_distance((271.723329, 56.283255, 0))[0], mode=Mode.SUBTRACT)

    # Congé1
    cong_1_edges = [part.edges().sort_by_distance(p)[0] for p in [
        (262.22332913, 60.897540984, 0.79375),
        (263.72332913, 51.397540984, 0.79375),
        (279.72332913, 51.397540984, 0.79375),
        (281.22332913, 60.897540984, 0.79375),
    ]]
    fillet(cong_1_edges, radius=CONG_1_R)


solid = part.part
